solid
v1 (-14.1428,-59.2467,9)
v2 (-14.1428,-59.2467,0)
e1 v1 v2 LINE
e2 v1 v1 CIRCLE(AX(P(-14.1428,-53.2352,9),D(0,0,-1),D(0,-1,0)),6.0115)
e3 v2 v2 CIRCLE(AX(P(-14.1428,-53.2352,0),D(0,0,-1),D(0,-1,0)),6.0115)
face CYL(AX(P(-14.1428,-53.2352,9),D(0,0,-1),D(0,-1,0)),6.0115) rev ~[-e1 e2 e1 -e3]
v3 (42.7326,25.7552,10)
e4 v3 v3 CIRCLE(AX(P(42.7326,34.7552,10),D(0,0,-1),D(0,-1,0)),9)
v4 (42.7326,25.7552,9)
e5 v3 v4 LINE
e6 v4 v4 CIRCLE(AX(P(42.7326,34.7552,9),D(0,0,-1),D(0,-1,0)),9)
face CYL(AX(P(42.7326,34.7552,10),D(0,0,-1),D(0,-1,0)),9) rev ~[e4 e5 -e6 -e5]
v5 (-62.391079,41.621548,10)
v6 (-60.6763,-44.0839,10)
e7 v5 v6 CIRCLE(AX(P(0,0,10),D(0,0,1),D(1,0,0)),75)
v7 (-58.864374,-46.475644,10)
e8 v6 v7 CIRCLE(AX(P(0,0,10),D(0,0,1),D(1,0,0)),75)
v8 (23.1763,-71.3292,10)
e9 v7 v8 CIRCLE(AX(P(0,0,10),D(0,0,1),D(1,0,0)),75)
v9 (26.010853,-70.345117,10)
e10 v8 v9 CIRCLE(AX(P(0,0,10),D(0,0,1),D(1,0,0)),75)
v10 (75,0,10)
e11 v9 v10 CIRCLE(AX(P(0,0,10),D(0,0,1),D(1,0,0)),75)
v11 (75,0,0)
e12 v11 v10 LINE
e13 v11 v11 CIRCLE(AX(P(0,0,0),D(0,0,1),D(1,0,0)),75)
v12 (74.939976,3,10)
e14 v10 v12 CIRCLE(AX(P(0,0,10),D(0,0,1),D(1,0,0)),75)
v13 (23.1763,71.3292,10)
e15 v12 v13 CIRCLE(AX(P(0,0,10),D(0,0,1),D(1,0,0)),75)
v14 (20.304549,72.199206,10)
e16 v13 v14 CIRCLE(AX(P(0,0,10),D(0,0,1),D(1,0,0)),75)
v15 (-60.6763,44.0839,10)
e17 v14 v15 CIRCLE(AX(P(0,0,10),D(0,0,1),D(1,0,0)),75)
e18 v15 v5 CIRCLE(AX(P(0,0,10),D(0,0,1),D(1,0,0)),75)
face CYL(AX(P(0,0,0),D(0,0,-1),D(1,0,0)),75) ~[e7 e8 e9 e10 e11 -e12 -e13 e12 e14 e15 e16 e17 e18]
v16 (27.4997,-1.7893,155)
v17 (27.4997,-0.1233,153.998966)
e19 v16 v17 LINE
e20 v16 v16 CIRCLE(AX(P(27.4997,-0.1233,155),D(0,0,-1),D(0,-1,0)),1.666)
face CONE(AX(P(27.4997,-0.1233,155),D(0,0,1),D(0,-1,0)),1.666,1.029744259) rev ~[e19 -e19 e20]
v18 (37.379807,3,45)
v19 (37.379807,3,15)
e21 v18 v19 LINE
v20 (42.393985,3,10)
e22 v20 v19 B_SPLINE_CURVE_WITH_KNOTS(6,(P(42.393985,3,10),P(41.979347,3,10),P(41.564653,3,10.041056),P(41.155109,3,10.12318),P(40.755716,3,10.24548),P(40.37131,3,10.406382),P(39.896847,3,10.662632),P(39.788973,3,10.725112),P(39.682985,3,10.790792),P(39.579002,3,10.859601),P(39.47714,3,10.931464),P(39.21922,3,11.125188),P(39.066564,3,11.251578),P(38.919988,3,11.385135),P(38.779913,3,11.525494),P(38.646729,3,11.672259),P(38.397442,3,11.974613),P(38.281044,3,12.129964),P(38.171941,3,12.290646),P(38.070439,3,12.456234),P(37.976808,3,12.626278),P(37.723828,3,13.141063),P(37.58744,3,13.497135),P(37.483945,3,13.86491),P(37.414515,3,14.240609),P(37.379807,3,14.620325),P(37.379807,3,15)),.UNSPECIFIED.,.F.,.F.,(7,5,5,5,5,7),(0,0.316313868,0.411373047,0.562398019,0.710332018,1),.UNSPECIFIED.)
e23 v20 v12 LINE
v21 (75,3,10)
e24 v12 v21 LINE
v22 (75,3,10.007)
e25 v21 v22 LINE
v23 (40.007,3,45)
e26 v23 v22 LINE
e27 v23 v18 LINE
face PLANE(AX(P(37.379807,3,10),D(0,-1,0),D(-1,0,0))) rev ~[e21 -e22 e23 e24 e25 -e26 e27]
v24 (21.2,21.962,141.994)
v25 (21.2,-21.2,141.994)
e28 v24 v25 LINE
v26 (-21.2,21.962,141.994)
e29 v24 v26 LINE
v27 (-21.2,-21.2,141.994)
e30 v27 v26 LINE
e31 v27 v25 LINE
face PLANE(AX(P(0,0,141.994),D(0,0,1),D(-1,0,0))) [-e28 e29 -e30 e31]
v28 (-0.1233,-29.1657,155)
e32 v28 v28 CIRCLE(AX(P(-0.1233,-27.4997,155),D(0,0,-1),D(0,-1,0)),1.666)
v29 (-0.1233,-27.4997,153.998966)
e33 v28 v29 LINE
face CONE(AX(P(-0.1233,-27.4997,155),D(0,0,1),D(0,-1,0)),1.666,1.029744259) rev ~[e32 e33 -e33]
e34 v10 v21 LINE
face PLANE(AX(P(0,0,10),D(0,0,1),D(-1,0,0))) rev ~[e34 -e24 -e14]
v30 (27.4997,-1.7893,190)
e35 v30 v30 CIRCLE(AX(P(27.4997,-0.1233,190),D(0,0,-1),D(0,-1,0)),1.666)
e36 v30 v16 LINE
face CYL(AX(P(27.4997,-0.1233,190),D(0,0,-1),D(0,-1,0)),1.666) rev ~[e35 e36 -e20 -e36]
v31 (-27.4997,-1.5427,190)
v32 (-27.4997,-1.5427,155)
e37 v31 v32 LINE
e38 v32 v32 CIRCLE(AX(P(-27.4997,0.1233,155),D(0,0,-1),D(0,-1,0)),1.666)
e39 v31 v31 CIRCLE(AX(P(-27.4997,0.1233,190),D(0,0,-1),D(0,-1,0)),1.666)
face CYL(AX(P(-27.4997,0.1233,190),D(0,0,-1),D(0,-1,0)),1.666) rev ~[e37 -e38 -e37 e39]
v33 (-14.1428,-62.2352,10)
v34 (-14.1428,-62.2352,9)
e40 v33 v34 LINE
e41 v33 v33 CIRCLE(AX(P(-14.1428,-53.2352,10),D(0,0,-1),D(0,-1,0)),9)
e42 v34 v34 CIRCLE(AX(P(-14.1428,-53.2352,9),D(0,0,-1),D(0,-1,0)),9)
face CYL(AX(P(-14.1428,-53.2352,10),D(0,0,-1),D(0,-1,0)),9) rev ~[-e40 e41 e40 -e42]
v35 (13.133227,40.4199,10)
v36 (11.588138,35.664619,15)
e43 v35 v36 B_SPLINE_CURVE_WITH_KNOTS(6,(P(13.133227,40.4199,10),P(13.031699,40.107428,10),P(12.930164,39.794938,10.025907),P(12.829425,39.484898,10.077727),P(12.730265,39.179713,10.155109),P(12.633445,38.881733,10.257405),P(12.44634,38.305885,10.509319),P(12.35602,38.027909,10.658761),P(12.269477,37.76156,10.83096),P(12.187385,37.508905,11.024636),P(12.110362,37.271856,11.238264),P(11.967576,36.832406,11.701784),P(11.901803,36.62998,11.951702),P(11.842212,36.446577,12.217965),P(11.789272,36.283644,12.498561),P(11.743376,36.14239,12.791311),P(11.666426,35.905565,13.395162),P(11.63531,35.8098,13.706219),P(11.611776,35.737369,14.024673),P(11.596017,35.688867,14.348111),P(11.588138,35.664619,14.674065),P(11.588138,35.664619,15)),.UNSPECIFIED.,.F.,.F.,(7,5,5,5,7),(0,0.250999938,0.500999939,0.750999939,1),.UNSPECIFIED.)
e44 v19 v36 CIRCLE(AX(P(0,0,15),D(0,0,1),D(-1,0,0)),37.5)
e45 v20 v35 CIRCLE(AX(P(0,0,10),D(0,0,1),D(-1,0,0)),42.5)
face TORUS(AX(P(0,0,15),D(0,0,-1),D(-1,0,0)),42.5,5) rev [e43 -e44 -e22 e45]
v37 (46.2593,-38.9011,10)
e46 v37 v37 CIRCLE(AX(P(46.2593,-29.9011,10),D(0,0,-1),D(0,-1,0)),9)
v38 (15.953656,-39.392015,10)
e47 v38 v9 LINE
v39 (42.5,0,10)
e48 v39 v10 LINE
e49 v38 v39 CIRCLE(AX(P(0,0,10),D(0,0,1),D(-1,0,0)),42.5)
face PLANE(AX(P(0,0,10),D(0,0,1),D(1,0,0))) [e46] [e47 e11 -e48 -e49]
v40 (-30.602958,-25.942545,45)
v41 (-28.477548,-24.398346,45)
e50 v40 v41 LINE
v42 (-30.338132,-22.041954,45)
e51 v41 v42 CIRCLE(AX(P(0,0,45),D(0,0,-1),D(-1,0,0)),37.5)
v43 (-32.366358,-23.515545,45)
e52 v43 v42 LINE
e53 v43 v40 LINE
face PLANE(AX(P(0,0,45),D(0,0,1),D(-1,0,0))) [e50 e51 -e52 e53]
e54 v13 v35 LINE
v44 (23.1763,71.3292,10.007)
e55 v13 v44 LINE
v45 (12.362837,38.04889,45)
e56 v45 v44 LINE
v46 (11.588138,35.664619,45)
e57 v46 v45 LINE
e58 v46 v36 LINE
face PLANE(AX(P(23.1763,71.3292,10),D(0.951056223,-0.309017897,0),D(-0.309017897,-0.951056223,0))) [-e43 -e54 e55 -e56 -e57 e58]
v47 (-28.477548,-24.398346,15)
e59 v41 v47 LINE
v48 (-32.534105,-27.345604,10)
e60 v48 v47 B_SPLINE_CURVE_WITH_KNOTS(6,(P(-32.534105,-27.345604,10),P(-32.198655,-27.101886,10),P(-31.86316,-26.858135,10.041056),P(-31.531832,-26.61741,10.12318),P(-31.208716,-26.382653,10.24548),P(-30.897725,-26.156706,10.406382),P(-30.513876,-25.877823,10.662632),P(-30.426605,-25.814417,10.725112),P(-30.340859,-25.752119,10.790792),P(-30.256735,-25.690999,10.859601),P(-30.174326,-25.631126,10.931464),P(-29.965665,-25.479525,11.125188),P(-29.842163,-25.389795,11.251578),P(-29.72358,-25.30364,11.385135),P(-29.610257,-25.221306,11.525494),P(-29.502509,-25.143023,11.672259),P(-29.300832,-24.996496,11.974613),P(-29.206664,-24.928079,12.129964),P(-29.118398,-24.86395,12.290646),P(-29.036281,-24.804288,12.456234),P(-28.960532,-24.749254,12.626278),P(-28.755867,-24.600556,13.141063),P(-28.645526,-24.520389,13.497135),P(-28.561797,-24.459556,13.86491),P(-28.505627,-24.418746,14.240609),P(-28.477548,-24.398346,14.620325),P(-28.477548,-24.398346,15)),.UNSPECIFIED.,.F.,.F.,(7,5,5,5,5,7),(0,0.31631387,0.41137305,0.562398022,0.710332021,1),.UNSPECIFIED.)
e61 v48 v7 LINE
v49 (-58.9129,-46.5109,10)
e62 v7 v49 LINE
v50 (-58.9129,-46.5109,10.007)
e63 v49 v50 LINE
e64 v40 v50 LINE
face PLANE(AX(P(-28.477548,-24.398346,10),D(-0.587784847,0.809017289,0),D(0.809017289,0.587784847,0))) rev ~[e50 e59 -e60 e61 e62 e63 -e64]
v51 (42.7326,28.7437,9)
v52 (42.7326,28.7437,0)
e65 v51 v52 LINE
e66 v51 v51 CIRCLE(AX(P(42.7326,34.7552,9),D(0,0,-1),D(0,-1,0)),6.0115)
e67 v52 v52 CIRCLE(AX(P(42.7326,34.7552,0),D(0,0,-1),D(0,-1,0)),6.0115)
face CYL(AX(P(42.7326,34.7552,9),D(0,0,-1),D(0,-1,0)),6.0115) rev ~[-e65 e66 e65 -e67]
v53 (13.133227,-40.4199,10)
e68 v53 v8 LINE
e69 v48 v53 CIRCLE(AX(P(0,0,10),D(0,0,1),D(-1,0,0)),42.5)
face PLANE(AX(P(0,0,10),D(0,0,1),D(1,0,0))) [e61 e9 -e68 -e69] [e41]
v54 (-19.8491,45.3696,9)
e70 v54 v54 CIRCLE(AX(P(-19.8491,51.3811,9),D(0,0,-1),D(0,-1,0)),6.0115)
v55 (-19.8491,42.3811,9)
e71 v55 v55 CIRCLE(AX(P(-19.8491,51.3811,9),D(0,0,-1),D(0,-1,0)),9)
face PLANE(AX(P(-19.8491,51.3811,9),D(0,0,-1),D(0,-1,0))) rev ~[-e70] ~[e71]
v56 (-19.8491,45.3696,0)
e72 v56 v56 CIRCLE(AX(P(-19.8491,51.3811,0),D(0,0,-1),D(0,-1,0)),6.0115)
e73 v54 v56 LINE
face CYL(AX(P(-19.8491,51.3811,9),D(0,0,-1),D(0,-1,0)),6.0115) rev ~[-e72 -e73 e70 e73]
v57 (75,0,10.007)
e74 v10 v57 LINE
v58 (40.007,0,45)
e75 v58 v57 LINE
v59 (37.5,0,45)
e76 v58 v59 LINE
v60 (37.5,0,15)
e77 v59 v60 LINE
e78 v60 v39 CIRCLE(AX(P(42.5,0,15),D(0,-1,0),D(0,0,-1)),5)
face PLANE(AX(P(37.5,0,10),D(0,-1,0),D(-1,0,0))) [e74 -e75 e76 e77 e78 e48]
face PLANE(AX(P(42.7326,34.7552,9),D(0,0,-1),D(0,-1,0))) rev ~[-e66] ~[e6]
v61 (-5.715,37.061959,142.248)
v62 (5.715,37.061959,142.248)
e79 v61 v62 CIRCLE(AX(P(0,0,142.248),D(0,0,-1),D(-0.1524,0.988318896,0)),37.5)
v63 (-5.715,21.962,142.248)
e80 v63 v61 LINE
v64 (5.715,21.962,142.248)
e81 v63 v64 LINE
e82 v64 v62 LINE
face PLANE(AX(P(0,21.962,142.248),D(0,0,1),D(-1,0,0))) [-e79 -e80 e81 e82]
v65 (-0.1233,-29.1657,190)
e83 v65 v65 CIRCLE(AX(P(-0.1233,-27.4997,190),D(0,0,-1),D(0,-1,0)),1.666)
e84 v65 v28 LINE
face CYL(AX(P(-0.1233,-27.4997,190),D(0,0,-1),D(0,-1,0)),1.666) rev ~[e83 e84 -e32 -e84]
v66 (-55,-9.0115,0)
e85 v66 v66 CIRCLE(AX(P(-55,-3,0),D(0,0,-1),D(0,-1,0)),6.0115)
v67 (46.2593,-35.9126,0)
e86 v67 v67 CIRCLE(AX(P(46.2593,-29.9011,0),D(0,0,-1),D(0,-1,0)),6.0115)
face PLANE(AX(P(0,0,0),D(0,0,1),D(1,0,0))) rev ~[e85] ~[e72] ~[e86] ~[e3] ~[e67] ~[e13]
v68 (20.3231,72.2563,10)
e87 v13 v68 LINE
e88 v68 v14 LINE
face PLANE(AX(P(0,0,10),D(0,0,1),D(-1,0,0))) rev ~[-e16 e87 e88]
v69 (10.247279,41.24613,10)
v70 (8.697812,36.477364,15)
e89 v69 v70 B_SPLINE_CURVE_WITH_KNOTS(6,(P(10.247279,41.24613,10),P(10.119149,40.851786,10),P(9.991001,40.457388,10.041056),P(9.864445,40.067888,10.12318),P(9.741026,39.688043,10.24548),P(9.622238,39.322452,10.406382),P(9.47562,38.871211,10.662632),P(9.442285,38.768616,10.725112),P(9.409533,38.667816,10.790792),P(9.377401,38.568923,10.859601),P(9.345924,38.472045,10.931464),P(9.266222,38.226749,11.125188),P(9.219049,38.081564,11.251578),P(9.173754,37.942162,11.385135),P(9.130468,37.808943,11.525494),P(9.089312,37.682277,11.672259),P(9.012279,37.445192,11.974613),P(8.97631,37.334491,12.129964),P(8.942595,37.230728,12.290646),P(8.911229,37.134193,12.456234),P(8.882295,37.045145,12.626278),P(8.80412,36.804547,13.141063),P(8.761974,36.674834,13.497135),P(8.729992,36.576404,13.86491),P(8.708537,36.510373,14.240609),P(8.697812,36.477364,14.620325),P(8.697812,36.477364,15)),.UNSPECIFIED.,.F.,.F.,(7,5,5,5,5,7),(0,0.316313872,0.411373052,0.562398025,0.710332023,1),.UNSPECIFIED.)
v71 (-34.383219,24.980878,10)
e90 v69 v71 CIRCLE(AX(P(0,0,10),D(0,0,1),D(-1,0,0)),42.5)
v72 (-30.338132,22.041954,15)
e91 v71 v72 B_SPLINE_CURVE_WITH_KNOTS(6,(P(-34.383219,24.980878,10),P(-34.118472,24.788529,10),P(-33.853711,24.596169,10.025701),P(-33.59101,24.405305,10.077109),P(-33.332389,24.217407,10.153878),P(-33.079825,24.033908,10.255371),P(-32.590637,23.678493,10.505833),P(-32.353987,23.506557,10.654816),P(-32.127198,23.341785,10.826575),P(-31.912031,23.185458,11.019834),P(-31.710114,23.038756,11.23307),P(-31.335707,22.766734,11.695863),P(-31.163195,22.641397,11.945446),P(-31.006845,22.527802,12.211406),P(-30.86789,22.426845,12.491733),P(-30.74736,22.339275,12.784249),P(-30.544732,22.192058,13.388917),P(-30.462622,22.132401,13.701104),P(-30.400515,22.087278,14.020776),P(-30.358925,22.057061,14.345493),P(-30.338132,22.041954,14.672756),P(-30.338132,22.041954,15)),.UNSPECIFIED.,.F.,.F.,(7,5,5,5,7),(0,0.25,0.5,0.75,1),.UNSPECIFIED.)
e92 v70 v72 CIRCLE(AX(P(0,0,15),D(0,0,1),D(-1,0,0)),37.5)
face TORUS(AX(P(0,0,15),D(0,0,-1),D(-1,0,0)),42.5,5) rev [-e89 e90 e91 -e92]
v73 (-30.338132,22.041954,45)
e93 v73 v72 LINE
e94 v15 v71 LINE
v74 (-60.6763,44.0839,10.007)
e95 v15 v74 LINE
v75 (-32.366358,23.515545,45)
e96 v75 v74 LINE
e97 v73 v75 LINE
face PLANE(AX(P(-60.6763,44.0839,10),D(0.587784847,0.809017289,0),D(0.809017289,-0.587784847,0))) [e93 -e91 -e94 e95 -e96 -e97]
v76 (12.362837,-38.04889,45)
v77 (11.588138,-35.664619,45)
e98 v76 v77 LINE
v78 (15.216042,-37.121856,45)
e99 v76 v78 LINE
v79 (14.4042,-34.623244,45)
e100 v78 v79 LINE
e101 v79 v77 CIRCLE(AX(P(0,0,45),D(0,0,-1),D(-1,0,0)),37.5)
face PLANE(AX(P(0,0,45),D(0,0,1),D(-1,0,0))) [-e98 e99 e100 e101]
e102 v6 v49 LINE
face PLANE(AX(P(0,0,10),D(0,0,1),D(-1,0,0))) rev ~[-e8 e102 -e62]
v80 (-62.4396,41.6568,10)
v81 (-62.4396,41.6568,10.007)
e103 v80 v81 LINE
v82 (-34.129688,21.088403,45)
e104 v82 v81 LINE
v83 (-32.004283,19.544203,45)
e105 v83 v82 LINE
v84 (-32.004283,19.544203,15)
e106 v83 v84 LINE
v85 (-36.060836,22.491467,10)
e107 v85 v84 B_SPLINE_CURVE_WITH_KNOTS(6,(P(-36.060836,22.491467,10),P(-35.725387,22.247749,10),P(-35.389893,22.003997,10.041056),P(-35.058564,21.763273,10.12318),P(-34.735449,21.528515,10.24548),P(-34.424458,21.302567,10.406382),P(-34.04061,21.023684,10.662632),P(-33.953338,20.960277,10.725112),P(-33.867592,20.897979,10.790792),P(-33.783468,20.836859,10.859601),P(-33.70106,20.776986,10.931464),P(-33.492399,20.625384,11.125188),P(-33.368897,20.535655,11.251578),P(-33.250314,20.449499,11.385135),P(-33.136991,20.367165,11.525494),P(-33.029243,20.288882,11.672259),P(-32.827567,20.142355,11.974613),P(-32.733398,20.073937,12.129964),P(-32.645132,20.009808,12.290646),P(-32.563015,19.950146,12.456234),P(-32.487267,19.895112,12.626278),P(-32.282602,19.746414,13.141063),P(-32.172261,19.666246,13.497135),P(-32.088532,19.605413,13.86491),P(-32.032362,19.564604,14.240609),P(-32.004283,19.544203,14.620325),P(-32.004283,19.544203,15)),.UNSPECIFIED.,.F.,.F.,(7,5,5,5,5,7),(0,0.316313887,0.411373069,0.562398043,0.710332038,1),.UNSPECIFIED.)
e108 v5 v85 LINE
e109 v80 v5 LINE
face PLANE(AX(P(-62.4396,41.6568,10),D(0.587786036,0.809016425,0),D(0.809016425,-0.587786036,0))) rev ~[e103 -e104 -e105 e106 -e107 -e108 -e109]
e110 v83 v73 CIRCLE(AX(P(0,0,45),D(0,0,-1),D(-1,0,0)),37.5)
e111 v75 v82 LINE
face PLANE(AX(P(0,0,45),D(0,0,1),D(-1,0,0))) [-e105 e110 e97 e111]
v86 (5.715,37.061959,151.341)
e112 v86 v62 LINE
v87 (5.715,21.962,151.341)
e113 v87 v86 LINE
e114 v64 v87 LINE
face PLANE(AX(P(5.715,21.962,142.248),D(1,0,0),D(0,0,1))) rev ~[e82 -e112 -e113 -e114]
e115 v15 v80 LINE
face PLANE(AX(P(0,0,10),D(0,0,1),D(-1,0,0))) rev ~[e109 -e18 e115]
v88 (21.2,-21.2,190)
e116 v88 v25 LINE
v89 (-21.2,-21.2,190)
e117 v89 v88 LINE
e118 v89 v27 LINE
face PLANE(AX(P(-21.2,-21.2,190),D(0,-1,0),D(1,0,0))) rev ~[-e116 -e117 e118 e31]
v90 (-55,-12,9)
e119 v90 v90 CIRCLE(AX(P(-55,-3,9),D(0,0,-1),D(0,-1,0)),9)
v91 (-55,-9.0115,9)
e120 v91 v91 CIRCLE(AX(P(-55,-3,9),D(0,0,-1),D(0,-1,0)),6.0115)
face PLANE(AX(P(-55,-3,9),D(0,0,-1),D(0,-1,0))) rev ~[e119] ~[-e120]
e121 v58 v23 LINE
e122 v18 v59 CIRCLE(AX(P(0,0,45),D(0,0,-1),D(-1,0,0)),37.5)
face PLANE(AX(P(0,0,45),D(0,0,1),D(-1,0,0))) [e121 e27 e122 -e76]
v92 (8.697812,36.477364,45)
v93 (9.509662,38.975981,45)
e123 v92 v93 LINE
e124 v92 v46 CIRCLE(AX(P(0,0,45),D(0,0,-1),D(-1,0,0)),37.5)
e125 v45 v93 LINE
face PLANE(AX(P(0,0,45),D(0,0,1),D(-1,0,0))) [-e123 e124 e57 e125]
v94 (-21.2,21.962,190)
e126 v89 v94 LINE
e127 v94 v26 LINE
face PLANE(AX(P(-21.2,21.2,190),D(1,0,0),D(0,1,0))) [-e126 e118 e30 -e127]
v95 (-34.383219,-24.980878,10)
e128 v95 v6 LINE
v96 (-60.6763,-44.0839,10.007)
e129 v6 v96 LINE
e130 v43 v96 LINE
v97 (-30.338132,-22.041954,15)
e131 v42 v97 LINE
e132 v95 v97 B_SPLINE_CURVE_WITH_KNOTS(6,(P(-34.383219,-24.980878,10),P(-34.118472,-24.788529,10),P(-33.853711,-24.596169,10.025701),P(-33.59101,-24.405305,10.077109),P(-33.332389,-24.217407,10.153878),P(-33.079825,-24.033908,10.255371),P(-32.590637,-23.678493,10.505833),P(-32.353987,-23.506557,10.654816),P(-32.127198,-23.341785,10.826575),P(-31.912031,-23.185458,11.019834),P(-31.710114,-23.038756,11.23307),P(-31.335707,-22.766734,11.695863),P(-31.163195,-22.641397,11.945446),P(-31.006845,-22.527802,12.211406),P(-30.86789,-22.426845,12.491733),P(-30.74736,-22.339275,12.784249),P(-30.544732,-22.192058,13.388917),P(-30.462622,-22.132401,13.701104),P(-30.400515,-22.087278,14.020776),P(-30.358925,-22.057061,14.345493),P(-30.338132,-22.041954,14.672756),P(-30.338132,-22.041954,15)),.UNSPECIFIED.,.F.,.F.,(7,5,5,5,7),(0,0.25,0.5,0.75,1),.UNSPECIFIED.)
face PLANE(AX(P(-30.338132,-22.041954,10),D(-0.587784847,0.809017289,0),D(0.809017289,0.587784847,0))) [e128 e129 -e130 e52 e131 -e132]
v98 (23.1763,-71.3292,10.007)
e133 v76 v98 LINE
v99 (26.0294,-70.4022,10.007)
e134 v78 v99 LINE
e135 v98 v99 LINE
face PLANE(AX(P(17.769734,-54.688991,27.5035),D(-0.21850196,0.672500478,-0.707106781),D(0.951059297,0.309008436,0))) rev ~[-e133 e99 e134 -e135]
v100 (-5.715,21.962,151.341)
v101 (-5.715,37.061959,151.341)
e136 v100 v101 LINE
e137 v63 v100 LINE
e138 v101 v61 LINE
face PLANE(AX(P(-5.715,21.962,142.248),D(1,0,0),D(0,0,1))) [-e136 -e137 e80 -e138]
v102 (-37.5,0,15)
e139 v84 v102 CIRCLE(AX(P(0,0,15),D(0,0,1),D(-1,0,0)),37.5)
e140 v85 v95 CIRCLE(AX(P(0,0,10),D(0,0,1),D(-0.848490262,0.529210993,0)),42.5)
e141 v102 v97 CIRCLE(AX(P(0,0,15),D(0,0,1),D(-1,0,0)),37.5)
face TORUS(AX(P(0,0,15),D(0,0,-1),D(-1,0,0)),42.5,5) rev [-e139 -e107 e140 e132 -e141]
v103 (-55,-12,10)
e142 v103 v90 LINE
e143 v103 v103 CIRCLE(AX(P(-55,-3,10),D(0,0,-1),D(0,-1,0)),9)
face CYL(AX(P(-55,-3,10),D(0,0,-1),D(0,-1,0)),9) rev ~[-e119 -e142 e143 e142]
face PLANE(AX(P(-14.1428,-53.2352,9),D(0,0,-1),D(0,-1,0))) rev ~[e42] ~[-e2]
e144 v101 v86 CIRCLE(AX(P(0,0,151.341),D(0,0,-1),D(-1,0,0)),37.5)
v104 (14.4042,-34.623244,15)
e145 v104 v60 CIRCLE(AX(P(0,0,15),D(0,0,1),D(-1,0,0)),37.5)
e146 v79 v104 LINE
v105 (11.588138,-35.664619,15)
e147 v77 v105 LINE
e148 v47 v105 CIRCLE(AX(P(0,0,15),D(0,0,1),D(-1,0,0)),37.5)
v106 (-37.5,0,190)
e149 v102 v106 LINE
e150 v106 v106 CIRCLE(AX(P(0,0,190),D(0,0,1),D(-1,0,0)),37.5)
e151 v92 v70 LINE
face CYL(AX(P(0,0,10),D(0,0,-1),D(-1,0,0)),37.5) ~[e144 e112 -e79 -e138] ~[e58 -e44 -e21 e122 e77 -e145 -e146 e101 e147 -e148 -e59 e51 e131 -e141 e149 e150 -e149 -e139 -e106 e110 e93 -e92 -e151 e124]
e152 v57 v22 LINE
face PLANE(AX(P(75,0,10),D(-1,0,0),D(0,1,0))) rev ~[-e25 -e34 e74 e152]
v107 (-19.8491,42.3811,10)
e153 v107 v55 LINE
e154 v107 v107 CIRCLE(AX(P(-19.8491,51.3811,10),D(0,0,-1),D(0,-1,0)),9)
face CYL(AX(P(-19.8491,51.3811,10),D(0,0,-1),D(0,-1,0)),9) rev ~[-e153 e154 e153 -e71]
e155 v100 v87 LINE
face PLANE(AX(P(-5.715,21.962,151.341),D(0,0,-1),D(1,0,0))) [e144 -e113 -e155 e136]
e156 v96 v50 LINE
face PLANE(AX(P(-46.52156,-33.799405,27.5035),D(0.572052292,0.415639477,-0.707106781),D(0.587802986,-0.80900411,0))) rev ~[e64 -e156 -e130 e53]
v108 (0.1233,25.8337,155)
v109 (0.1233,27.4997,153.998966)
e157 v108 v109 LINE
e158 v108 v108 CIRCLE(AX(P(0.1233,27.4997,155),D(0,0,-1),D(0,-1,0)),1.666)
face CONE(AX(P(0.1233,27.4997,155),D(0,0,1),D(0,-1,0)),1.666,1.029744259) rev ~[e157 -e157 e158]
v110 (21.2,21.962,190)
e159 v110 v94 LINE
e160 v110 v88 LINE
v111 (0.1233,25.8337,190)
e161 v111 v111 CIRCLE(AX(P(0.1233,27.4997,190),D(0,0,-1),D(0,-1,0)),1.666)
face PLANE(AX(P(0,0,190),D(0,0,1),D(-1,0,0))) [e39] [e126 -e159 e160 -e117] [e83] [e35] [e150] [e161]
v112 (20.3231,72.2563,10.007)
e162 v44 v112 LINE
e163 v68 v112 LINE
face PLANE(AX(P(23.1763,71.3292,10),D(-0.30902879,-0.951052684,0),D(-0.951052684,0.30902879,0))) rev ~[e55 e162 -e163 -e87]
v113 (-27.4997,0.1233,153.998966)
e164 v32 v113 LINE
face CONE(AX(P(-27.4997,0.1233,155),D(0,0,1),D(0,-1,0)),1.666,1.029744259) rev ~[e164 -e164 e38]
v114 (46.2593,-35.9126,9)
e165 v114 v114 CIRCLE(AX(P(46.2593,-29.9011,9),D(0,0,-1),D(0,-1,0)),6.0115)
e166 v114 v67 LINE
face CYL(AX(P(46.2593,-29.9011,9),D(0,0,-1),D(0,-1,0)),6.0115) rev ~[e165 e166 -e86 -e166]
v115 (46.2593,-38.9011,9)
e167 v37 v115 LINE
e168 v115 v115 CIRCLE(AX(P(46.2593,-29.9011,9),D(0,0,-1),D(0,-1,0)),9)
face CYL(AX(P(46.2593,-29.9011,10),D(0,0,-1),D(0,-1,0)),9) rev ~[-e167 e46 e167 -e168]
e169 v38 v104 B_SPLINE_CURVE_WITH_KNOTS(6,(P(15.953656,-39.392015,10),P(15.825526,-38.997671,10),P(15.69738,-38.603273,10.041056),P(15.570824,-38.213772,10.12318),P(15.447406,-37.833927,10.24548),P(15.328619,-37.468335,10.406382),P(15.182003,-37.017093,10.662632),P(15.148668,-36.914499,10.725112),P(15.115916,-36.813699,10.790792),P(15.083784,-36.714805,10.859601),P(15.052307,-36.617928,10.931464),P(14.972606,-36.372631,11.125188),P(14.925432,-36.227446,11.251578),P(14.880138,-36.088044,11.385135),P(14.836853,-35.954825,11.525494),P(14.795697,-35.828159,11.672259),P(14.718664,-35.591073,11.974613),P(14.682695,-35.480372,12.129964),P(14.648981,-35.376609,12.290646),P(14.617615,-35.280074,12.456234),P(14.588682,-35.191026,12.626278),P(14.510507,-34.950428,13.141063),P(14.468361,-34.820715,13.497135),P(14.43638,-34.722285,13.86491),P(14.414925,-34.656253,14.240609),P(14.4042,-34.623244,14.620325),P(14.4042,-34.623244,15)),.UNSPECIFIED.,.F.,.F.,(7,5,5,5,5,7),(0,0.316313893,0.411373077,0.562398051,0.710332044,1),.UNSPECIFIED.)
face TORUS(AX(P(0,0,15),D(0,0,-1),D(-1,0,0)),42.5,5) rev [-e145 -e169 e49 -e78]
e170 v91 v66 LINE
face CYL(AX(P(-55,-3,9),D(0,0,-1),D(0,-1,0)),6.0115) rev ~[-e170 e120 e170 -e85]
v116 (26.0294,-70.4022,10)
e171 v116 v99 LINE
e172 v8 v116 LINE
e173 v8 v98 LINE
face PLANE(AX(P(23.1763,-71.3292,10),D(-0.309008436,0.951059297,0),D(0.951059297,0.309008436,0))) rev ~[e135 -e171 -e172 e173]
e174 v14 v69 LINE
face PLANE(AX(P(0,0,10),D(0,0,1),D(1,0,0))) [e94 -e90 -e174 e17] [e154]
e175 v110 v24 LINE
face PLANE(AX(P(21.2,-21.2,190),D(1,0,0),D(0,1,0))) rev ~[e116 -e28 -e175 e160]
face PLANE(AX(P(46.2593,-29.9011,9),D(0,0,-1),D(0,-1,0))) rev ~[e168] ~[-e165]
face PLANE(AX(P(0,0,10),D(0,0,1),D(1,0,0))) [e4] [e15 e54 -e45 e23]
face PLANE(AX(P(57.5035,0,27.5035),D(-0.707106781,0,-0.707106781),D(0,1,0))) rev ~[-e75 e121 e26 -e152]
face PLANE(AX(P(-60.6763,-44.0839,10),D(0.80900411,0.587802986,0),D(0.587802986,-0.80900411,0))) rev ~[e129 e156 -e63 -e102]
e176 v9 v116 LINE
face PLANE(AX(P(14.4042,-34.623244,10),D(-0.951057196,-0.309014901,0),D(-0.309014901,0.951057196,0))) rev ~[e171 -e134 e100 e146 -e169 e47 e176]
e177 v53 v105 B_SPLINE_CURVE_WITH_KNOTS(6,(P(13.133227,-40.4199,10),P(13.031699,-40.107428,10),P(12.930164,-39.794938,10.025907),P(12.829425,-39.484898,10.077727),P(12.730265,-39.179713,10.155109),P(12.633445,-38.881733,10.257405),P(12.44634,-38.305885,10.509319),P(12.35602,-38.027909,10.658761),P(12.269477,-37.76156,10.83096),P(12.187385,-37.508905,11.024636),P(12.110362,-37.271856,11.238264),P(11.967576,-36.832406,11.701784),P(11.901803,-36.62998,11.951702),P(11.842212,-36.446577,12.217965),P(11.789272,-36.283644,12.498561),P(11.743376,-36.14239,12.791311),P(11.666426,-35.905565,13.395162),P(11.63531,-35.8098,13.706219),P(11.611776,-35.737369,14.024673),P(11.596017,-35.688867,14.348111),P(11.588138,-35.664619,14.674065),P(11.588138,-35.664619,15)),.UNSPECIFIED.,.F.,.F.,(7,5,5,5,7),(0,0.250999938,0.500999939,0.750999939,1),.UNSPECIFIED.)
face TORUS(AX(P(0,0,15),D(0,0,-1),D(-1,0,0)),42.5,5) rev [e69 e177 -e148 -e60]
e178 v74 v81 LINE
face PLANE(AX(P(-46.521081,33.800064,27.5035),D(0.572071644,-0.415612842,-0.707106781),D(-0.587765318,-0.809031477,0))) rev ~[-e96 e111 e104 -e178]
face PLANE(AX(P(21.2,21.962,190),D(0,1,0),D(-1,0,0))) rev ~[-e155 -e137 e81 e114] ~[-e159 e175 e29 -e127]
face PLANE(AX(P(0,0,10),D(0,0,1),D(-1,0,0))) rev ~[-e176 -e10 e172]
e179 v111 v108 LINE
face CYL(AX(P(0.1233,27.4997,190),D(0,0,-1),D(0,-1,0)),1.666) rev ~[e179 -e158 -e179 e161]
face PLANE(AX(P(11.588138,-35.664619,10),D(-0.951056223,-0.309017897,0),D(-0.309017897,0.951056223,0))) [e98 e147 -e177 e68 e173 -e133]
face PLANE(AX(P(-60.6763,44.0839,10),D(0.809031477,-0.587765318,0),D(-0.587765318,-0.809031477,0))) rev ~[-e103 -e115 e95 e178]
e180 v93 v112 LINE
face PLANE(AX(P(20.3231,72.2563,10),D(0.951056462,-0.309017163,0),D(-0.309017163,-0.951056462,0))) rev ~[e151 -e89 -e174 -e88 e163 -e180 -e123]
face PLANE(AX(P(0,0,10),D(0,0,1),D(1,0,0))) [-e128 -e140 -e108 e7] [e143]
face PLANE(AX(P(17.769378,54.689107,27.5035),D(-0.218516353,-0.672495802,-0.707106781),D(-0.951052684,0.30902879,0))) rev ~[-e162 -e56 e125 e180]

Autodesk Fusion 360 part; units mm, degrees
sketch "Sketch1" plane through (0, 0, 0) normal (0, 0, 1) x (1, 0, 0)
  circle A0 centre (0, 0) radius 75
  dimension "d1" = 150
extrude "Extrude1" add sketch "Sketch1" along normal blind 10 makes body 1
sketch "Sketch2" plane through (0, 0, 10) normal (0, 0, 1) x (-1, 0, 0)
  circle A0 centre (0, 0) radius 75
sketch "Sketch3" plane through (0, 0, 10) normal (0, 0, 1) x (-1, 0, 0)
  circle A0 centre (0, 0) radius 37.5
  dimension "d4" = 75
extrude "Extrude2" add sketch "Sketch3" along normal blind 200 bodies 1
sketch "Sketch4" plane through (0, 0, 10) normal (0, 0, 1) x (-1, 0, 0)
  circle A0 centre (0, 0) radius 37.5
  line L0 (60.6763, 44.0839) -> (28.3156, 20.5725)
  line L1 (-23.1763, 71.3292) -> (-10.8156, 33.287)
  line L2 (-75, 0) -> (-35, 0)
  line L3 (-23.1763, -71.3292) -> (-10.8156, -33.287)
  line L4 (60.6763, -44.0839) -> (28.3156, -20.5725)
  line L5 (75, 0) -> (55, 0)
  line L6 (75, 0) -> (55, 0)
  line L7 (23.1763, 71.3292) -> (16.9959, 52.3081)
  line L8 (-60.6763, 44.0839) -> (-44.4959, 32.3282)
  line L9 (-60.6763, -44.0839) -> (-44.4959, -32.3282)
  line L10 (23.1763, -71.3292) -> (16.9959, -52.3081)
  line L11 (-10.8156, 33.287) -> (-23.1763, 71.3292)
  line L12 (-23.1763, 71.3292) -> (-26.0294, 70.4022)
  line L13 (-26.0294, 70.4022) -> (-13.6688, 32.3599)
  line L14 (-13.6688, 32.3599) -> (-10.8156, 33.287)
  line L15 (-75, 0) -> (-75, -3)
  line L16 (-35, -3) -> (-35, 0)
  line L17 (-75, -3) -> (-35, -3)
  line L18 (-23.1763, -71.3292) -> (-20.3231, -72.2563)
  line L19 (-7.9624, -34.214) -> (-10.8156, -33.287)
  line L20 (-20.3231, -72.2563) -> (-7.9624, -34.214)
  line L21 (60.6763, -44.0839) -> (62.4396, -41.6568)
  line L22 (30.079, -18.1454) -> (28.3156, -20.5725)
  line L23 (62.4396, -41.6568) -> (30.079, -18.1454)
  line L24 (60.6763, 44.0839) -> (58.9129, 46.5109)
  line L25 (26.5522, 22.9995) -> (28.3156, 20.5725)
  line L26 (58.9129, 46.5109) -> (26.5522, 22.9995)
  point P0 (75, 0)
  dimension "d9" = 20
  dimension "d11" = 360
  dimension "d12" = 3
  dimension "d14" = 360
extrude "Extrude3" add sketch "Sketch4" along normal blind 35 separate body contours A0 L0 L25 L26 | A0 L0 L24 L26 | A0 L4 L21 L23 | A0 L4 L22 L23 | A0 L1 L11 L13 L14 | A0 L1 L11 L12 L13 | A0 L3 L18 L20 | A0 L3 L19 L20 | A0 L2 L16 L17 | A0 L2 L15 L17 makes body 2 at (16.2029, 59.5755, 21.6667) makes body 3 at (19.056, -58.6485, 33.3333) makes body 4 at (-48.126, -38.6738, 33.3333) makes body 5 at (61.6667, 3, 33.3333) makes body 6 at (-49.8894, 36.2468, 33.3333)
sketch "Sketch5" plane through (0, 0, 10) normal (0, 0, 1) x (-1, 0, 0)
  line L0 (75, 3) -> (55, 3)
  line L1 (20.3231, 72.2563) -> (14.1428, 53.2352)
  line L2 (-62.4396, 41.6568) -> (-46.2593, 29.9011)
  line L3 (-58.9129, -46.5109) -> (-42.7326, -34.7552)
  line L4 (26.0294, -70.4022) -> (19.8491, -51.3811)
  point P0 (62.4396, -41.6568)
  point P1 (30.079, -18.1454)
  dimension "d19" = 20
  dimension "d21" = 360
hole "Hole1" at (-55, -3, 10) at (-14.1428, -53.2352, 10) at (-19.8491, 51.3811, 10) at (42.7326, 34.7552, 10) at (46.2593, -29.9011, 10) direction (0, 0, -1) diameter 12.023 depth 10 tip angle 118 counterbore diameter 18 counterbore depth 1 bodies 1
fillet "Fillet1" radius 5 1 edges at (34.9623, -13.5606, 10) on bodies 1
combine "Combine1" operation add target body 1 tool bodies 4 3 5 6 2
chamfer "Chamfer1" distance 35 distance2 35 5 edges at (75, 1.5, 45) (21.7497, 71.7928, 45) (-61.558, 42.8704, 45) (24.6029, -70.8657, 45) (-59.7946, -45.2974, 45) measured on face at (62.4955, 1.3337, 45) measured on face at (18.0438, 59.8489, 45) measured on face at (-51.3439, 35.655, 45) measured on face at (20.5806, -59.0247, 45) measured on face at (-49.7761, -37.8129, 45) on bodies 1
sketch "Sketch6" plane through (0, 0, 210) normal (0, 0, 1) x (-1, 0, 0)
  circle A0 centre (0, 0) radius 37.5
  line L0 (-21.209, 21.209) -> (21.209, 21.209)
  line L1 (21.209, 21.209) -> (21.209, -21.209)
  line L2 (21.209, -21.209) -> (-21.209, -21.209)
  line L3 (-21.209, -21.209) -> (-21.209, 21.209)
  line L4 (-21.209, 21.209) -> (21.209, -21.209) construction
  line L5 (21.209, 21.209) -> (-21.209, -21.209) construction
  dimension "d31" = 42.418
  dimension "d32" = 42.418
extrude "Extrude9" cut 1 faces at (-9.3028, -10.3652, 210) along direction (0, 0, -1) blind 20 on bodies 1 bodies 1
sketch "Sketch22" plane through (0, 0, 190) normal (0, 0, 1) x (-1, 0, 0)
  circle A0 centre (0, 0) radius 37.5
sketch "Sketch23" plane through (0, 0, 190) normal (0, 0, 1) x (-1, 0, 0)
  line L0 (-21.2, -21.2) -> (21.2, -21.2)
  line L1 (21.2, -21.2) -> (21.2, 21.2)
  line L2 (21.2, 21.2) -> (-21.2, 21.2)
  line L3 (-21.2, 21.2) -> (-21.2, -21.2)
  line L4 (-21.2, -21.2) -> (21.2, 21.2) construction
  line L5 (21.2, -21.2) -> (-21.2, 21.2) construction
  dimension "d103" = 42.4
  dimension "d104" = 42.4
extrude "Extrude10" cut sketch "Sketch23" against normal blind 48.006 bodies 1
sketch "Sketch24" plane through (0, 0, 190) normal (0, 0, 1) x (-1, 0, 0)
  line L0 (21.2, -21.2) -> (21.2, -21.962)
  line L1 (-21.2, -21.2) -> (-21.2, -21.962)
  line L2 (21.2, -21.2) -> (-21.2, -21.2)
  line L3 (-21.2, -21.962) -> (21.2, -21.962)
  point P0 (21.2, -21.2)
  point P1 (-21.2, -21.2)
  dimension "d107" = 0.762
  dimension "d108" = 0.762
extrude "Extrude11" cut sketch "Sketch24" against normal blind 48.006 bodies 1
sketch "Sketch26" plane through (0, 21.962, 0) normal (0, -1, 0) x (1, 0, 0)
  line L0 (21.2, 190) -> (-21.2, 190)
  line L1 (-21.2, 190) -> (-21.2, 141.994)
  line L2 (-21.2, 141.994) -> (21.2, 141.994)
  line L3 (21.2, 141.994) -> (21.2, 190)
  line L4 (0, 141.994) -> (0, 142.248)
  line L5 (0, 142.248) -> (5.715, 142.248)
  line L6 (0, 142.248) -> (-5.715, 142.248)
  line L7 (5.715, 142.248) -> (5.715, 151.341)
  line L8 (-5.715, 142.248) -> (-5.715, 151.341)
  line L9 (-5.715, 151.341) -> (5.715, 151.341)
  dimension "d111" = 0.254
  dimension "d112" = 5.715
  dimension "d113" = 5.715
  dimension "d114" = 9.093
  dimension "d115" = 9.093
extrude "Extrude12" cut sketch "Sketch26" against normal blind 55 contours L5 L6 L7 L8 L9 bodies 1
sketch "Sketch27" plane through (0, 0, 190) normal (0, 0, 1) x (-1, 0, 0)
  circle A0 centre (0, 0) radius 37.5
  line L0 (-0.1682, -37.4996) -> (-0.1233, -27.4997)
  line L1 (37.4996, -0.1682) -> (27.4997, -0.1233)
  line L2 (0.1682, 37.4996) -> (0.1233, 27.4997)
  line L3 (-37.4996, 0.1682) -> (-27.4997, 0.1233)
  dimension "d118" = 10
  dimension "d120" = 360
hole "Hole5" at (27.4997, -0.1233, 190) at (-0.1233, -27.4997, 190) at (0.1233, 27.4997, 190) at (-27.4997, 0.1233, 190) direction (0, 0, -1) diameter 3.332 depth 35 tip angle 118 bodies 1
